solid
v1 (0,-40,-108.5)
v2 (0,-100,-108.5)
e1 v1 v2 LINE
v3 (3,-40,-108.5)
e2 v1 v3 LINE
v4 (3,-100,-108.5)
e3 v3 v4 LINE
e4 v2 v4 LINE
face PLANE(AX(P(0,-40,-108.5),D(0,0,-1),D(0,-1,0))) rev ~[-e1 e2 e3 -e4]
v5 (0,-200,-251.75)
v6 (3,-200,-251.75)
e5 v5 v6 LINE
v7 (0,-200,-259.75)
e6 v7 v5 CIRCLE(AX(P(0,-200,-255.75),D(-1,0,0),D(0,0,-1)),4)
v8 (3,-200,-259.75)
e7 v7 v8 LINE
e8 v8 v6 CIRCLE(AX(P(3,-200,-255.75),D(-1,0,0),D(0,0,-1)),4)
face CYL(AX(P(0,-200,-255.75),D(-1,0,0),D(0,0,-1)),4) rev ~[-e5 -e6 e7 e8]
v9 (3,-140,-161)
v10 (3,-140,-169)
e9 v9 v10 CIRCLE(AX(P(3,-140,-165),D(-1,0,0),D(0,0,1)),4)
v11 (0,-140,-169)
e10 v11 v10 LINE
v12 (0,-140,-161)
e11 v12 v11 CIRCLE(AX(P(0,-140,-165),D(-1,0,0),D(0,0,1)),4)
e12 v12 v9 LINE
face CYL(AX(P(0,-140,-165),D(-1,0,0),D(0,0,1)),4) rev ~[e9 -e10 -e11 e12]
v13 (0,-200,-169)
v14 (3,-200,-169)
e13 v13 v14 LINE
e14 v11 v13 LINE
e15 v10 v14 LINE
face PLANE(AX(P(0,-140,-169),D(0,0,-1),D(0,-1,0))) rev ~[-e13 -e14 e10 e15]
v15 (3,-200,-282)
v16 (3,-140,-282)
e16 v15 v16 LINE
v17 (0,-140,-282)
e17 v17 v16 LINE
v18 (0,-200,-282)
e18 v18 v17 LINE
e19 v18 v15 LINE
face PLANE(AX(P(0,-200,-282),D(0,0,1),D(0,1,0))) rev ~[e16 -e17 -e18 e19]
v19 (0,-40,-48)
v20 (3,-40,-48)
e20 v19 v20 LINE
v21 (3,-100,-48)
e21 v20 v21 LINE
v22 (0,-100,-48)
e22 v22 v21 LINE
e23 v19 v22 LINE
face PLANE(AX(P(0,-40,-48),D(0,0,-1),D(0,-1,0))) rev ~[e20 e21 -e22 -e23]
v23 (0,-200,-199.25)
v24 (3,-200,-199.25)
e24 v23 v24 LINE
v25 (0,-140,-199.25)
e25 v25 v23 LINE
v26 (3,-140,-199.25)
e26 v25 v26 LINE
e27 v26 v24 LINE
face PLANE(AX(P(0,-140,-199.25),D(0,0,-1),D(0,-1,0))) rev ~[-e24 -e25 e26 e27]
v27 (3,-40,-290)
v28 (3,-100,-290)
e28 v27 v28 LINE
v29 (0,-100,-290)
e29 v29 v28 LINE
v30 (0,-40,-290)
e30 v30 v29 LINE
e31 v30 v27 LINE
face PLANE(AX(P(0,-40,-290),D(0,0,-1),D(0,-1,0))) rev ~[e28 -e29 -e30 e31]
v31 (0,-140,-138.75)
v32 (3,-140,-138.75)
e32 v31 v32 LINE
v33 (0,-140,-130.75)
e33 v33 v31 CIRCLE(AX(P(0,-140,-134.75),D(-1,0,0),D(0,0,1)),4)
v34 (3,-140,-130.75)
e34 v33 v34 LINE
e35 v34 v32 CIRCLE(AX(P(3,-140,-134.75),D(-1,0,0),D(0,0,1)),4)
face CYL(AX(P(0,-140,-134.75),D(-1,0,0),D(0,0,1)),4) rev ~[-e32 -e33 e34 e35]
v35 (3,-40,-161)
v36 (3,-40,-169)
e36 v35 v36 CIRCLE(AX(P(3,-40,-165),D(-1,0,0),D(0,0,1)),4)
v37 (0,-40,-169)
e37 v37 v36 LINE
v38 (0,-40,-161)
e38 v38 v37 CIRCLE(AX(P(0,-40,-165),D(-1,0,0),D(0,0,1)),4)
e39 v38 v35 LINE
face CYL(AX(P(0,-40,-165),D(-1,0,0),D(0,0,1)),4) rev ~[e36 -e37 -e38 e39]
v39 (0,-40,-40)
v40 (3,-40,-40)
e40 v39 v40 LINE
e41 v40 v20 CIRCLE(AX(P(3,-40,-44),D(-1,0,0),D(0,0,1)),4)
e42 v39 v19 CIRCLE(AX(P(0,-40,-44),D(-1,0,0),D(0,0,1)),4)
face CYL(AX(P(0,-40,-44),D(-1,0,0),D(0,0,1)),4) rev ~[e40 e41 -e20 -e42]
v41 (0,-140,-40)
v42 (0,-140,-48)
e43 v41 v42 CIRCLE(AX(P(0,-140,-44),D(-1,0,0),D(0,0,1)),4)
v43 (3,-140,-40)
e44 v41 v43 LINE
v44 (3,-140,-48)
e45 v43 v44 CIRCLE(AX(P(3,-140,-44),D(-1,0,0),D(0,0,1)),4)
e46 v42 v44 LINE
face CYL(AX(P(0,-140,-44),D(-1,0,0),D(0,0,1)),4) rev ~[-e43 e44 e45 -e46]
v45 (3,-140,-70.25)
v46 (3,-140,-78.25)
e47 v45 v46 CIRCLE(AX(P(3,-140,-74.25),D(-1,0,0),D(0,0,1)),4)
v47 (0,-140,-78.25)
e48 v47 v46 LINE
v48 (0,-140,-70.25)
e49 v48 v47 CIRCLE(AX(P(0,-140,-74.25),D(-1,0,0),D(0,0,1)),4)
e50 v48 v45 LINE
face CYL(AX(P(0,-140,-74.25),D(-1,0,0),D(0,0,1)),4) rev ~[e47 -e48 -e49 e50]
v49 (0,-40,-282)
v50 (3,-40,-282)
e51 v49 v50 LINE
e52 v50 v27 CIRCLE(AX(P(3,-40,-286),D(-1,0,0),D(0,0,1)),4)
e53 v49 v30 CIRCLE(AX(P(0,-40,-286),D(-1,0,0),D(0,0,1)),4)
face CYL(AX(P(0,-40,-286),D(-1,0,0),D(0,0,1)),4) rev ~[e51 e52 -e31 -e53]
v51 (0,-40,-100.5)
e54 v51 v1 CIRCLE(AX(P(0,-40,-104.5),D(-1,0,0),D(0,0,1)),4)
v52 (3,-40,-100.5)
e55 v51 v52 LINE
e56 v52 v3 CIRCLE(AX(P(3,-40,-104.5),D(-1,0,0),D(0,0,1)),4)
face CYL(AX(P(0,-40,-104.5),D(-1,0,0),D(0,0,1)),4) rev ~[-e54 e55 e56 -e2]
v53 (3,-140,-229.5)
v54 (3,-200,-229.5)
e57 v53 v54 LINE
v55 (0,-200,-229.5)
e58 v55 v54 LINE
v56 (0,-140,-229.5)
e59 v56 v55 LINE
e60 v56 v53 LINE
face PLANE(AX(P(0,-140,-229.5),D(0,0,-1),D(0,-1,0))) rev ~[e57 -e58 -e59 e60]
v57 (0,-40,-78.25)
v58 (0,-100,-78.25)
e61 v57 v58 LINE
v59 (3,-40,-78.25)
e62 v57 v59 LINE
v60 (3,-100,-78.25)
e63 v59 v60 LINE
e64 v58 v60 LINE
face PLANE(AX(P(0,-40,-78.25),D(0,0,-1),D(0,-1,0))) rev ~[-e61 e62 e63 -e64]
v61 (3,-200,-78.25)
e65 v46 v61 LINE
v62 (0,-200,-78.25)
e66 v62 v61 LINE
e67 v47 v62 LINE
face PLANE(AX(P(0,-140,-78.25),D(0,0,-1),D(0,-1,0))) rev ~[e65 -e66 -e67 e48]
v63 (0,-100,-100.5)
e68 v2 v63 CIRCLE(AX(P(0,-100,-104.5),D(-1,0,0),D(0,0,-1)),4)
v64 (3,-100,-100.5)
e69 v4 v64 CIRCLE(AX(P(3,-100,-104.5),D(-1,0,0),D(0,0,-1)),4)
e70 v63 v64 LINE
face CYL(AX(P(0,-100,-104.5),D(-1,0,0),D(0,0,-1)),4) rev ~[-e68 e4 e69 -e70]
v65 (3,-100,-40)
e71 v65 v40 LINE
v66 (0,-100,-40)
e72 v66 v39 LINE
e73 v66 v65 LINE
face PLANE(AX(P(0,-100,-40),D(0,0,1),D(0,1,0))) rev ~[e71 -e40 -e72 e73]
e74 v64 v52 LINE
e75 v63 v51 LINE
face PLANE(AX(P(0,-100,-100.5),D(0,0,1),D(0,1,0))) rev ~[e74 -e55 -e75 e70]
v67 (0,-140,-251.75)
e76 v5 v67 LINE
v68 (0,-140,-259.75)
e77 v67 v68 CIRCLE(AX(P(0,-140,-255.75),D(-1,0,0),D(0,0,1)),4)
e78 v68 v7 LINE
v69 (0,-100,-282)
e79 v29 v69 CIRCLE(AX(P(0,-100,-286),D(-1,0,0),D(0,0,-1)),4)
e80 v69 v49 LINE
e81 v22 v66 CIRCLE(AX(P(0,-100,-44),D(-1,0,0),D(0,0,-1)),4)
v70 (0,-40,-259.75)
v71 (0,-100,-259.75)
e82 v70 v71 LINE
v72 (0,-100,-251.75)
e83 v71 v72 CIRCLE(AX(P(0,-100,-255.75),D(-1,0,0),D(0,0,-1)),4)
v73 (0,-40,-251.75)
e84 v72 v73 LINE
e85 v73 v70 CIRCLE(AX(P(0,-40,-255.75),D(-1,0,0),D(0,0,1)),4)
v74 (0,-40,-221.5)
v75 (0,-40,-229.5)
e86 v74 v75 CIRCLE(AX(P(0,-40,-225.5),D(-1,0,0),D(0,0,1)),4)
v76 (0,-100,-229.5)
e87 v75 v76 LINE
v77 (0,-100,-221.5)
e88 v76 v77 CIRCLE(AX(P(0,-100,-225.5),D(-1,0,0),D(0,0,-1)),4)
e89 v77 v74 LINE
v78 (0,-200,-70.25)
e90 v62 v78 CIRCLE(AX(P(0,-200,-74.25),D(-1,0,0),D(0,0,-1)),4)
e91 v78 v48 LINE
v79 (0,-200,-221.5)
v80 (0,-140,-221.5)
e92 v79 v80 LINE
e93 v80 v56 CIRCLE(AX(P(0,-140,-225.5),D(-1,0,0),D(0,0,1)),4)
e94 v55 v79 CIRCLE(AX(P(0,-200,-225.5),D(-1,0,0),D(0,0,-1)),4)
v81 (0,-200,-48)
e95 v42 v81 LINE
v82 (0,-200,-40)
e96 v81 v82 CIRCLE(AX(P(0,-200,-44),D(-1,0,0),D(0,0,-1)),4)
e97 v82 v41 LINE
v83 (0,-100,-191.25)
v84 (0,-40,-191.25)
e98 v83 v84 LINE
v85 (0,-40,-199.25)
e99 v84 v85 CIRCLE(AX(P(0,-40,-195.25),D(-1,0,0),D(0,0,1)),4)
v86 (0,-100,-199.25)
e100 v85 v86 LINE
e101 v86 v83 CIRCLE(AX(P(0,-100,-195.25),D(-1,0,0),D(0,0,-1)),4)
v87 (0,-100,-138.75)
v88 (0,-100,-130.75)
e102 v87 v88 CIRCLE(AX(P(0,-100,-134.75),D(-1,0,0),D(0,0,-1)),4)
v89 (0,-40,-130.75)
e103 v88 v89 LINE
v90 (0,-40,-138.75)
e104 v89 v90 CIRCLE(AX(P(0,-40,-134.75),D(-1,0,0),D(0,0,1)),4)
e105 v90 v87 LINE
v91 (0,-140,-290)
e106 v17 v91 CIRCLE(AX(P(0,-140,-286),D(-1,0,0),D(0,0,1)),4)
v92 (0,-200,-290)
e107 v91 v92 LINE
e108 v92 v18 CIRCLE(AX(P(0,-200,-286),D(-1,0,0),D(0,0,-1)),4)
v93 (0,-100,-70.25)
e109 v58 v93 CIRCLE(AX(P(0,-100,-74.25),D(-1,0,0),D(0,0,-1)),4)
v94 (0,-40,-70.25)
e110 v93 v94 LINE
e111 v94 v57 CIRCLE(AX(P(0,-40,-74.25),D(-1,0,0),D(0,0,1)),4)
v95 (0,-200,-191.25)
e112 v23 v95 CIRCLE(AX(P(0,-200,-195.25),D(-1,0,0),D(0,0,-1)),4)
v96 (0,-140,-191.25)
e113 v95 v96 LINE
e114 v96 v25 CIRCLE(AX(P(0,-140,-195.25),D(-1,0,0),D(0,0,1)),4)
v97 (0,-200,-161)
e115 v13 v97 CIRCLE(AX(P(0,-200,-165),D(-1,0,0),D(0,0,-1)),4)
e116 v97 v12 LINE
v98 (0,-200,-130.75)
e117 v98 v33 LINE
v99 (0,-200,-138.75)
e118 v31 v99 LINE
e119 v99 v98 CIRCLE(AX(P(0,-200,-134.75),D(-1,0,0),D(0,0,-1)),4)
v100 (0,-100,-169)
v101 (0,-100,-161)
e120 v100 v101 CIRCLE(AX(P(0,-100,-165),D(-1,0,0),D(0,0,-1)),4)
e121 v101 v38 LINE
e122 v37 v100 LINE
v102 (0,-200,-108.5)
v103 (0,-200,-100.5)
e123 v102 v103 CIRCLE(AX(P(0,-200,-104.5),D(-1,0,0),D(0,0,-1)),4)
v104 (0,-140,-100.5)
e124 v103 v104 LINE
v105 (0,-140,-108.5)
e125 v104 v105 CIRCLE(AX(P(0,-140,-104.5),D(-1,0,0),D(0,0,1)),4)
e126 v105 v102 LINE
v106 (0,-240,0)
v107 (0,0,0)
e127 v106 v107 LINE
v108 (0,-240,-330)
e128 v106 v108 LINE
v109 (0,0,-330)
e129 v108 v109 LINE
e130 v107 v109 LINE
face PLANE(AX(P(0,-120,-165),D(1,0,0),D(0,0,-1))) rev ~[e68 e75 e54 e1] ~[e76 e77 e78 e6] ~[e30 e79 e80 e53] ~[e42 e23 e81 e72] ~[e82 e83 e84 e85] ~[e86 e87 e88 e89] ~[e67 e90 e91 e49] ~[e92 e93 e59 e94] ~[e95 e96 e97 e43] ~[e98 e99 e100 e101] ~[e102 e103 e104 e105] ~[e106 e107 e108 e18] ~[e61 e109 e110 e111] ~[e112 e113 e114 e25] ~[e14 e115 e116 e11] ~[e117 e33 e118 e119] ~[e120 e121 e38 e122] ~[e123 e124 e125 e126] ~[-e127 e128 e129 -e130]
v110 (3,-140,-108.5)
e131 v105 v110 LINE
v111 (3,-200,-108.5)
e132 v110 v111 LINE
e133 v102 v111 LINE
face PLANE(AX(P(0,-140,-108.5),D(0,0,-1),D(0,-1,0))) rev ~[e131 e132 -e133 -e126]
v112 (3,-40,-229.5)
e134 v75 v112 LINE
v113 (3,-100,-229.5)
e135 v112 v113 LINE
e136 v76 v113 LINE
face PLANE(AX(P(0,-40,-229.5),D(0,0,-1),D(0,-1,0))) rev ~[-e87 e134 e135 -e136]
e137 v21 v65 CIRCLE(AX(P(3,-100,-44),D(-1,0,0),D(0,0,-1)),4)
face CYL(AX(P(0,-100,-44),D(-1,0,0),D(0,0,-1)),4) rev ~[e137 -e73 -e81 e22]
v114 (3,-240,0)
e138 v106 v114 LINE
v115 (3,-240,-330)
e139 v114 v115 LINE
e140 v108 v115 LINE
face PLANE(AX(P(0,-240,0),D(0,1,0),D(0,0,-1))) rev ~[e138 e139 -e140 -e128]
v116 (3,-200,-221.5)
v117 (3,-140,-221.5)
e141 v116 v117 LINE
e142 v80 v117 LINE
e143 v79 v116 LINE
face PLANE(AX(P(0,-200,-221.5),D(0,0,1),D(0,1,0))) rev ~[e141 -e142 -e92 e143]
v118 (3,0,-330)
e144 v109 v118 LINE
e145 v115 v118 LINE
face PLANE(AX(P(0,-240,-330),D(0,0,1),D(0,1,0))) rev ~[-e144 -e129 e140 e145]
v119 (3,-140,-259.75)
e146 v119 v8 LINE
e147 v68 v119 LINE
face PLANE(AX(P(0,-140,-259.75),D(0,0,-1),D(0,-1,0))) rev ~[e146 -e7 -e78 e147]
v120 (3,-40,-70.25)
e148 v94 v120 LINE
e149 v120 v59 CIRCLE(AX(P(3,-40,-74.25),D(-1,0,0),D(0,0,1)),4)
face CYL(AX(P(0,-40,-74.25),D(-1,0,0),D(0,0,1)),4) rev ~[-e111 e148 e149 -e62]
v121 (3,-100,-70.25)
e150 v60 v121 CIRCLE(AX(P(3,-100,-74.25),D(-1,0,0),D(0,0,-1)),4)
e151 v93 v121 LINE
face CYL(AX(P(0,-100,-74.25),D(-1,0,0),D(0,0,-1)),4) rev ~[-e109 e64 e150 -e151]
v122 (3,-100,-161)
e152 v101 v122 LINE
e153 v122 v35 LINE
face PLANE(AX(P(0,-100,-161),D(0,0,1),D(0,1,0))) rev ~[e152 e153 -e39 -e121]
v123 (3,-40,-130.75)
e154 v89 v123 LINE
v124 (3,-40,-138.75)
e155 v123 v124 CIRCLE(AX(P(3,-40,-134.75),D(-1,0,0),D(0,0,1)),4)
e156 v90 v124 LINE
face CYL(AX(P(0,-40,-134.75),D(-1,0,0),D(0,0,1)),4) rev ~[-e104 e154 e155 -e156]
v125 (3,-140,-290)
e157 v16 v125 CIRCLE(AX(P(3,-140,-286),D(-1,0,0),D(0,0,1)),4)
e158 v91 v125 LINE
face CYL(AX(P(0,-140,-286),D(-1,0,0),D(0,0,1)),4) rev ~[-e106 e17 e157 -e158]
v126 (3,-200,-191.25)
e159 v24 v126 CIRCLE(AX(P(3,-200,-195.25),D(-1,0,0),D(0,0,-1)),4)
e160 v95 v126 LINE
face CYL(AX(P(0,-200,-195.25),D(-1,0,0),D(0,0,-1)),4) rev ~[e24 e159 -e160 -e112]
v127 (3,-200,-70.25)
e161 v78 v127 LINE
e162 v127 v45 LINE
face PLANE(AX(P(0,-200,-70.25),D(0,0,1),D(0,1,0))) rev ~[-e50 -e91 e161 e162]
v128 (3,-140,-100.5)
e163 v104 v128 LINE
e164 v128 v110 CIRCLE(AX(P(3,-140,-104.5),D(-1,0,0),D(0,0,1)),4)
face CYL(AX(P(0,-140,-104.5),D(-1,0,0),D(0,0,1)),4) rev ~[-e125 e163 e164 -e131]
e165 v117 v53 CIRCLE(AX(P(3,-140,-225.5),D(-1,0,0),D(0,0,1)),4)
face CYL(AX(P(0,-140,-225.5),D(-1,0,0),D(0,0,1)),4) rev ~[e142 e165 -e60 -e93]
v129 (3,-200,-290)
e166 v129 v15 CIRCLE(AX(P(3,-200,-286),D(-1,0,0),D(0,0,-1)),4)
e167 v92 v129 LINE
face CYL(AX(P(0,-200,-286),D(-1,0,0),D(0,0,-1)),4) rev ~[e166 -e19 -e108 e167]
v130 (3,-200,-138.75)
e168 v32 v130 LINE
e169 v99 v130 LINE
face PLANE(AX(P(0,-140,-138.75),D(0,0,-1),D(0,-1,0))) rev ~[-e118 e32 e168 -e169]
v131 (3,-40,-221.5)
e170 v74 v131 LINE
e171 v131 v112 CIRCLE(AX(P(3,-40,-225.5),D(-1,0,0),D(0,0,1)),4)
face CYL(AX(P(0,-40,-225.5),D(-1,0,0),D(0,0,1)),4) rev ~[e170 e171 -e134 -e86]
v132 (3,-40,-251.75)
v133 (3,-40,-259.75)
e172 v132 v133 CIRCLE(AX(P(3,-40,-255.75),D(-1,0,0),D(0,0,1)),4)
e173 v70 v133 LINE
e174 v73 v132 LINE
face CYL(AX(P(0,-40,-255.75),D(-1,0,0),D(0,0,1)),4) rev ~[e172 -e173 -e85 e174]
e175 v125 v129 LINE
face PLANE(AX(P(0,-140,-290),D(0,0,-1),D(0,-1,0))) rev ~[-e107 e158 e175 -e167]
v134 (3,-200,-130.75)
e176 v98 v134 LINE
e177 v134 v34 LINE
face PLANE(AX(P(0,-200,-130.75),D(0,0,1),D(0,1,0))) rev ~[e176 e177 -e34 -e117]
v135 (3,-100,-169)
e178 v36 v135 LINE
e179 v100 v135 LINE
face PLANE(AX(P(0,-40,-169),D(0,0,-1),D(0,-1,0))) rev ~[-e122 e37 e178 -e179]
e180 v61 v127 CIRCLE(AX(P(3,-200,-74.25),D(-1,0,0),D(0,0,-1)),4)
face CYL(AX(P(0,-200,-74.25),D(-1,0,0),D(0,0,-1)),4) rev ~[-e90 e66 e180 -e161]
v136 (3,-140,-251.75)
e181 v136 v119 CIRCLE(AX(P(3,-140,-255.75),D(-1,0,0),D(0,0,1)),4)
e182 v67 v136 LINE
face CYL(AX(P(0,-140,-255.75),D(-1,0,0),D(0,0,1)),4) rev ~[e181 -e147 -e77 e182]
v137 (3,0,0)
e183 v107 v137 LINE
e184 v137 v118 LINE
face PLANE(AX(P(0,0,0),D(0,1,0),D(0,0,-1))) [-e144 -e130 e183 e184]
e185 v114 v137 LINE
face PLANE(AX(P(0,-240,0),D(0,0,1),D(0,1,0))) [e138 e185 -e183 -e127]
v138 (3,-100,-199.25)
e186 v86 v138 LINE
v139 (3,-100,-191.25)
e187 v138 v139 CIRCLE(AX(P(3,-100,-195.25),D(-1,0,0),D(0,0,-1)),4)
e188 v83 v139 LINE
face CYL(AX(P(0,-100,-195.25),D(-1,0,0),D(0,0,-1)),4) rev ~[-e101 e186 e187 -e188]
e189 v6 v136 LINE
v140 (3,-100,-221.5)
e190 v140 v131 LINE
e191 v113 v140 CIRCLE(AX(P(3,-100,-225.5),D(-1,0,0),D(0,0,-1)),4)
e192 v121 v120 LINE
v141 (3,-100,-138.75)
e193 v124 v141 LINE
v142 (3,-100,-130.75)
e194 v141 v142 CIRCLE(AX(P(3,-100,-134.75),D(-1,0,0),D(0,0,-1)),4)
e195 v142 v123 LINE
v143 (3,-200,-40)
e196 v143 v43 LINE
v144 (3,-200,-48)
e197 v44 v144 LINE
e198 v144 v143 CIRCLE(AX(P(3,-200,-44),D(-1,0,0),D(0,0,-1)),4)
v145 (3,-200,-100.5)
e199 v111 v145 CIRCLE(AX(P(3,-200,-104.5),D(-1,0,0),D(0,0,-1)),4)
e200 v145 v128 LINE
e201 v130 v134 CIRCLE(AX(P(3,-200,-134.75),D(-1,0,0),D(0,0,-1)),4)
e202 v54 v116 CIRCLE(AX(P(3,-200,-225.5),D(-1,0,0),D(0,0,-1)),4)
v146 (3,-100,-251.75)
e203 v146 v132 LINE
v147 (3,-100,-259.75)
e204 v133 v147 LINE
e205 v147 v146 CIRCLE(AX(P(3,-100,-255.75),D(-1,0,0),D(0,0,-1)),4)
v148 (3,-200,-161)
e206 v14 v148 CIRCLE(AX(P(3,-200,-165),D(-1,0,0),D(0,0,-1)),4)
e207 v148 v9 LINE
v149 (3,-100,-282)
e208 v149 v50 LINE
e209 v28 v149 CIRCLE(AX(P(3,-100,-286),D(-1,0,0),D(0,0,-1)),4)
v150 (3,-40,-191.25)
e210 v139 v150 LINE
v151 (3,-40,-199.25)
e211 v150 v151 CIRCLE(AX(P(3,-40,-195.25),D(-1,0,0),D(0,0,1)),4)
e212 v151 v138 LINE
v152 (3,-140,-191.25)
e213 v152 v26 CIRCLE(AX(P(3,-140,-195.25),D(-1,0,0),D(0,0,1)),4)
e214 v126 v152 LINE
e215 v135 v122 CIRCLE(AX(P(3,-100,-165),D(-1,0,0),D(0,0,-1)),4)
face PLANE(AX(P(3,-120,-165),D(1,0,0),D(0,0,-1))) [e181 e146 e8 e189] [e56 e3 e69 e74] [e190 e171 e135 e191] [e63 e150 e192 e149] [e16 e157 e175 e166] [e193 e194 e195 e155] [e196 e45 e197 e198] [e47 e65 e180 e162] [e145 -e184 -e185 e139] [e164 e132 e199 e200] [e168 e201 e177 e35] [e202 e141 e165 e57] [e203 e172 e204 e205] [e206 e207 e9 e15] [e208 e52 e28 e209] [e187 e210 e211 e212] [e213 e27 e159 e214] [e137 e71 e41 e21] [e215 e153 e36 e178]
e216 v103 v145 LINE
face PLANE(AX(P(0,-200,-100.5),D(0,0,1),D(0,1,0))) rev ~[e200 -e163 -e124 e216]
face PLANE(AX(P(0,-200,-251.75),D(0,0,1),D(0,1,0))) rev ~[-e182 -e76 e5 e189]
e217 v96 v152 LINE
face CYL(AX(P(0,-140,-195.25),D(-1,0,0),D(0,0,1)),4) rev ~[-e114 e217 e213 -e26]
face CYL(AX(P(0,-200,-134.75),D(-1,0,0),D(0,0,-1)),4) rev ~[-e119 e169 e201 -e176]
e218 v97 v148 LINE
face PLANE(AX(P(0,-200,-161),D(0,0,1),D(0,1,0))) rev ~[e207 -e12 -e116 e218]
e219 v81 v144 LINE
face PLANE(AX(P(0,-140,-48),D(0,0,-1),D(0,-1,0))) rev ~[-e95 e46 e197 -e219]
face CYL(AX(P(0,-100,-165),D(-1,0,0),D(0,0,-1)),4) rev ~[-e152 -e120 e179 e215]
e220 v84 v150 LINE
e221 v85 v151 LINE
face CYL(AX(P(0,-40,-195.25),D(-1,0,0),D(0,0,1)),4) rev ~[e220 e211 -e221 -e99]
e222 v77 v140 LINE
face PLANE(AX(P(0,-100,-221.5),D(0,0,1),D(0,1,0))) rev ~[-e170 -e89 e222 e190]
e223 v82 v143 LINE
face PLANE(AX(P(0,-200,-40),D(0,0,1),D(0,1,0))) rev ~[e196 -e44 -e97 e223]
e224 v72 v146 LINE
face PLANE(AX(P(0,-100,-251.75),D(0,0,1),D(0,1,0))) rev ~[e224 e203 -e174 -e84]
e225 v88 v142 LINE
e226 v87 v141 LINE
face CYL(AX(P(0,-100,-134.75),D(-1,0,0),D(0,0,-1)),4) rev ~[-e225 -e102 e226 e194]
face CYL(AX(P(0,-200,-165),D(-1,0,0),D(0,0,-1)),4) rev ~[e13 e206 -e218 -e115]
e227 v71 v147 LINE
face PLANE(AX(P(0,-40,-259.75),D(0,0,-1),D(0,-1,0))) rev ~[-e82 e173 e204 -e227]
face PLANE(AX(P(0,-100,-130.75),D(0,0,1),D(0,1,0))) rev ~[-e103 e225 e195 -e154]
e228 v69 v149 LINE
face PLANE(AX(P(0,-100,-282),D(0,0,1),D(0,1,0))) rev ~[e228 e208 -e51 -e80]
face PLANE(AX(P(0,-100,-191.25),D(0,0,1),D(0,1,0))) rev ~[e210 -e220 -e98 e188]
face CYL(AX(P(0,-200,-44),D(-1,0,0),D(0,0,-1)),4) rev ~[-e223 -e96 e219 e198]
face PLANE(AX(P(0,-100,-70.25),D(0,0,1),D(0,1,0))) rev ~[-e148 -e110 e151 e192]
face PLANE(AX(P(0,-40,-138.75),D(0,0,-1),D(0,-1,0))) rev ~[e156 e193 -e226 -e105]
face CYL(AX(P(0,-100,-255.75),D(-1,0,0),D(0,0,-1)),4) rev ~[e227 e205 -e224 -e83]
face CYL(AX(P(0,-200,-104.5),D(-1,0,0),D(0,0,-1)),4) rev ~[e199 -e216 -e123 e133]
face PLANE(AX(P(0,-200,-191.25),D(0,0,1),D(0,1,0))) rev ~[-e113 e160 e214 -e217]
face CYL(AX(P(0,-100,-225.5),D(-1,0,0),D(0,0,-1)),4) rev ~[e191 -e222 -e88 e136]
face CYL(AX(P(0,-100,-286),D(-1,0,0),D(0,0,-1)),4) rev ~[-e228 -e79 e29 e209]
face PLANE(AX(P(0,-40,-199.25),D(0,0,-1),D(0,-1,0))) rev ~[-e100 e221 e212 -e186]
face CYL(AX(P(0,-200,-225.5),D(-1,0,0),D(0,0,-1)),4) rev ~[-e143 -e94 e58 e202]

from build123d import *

# Parameters (mm, degrees)
IZIM1_W                     = 330
IZIM1_H                     = 240
Y_KSEKLIK_EKSTR_ZYON1_DEPTH = 3


with BuildPart() as part:
    # Çizim1 → Yükseklik-Ekstrüzyon1 (new body)
    with BuildSketch(Plane(origin=(0, 0, 0), x_dir=(0, 0, -1), z_dir=(1, 0, 0))):
        with Locations((165, -120)):
            Rectangle(IZIM1_W, IZIM1_H)
        with BuildLine():
            Line((48, -40), (48, -100))
            ThreePointArc((48, -100), (44, -104), (40, -100))
            Line((40, -100), (40, -40))
            ThreePointArc((40, -40), (44, -36), (48, -40))
        make_face(mode=Mode.SUBTRACT)
        with BuildLine():
            Line((78.25, -40), (78.25, -100))
            ThreePointArc((78.25, -100), (74.25, -104), (70.25, -100))
            Line((70.25, -100), (70.25, -40))
            ThreePointArc((70.25, -40), (74.25, -36), (78.25, -40))
        make_face(mode=Mode.SUBTRACT)
        with BuildLine():
            Line((108.5, -40), (108.5, -100))
            ThreePointArc((108.5, -100), (104.5, -104), (100.5, -100))
            Line((100.5, -100), (100.5, -40))
            ThreePointArc((100.5, -40), (104.5, -36), (108.5, -40))
        make_face(mode=Mode.SUBTRACT)
        with BuildLine():
            Line((138.75, -40), (138.75, -100))
            ThreePointArc((138.75, -100), (134.75, -104), (130.75, -100))
            Line((130.75, -100), (130.75, -40))
            ThreePointArc((130.75, -40), (134.75, -36), (138.75, -40))
        make_face(mode=Mode.SUBTRACT)
        with BuildLine():
            Line((169, -40), (169, -100))
            ThreePointArc((169, -100), (165, -104), (161, -100))
            Line((161, -100), (161, -40))
            ThreePointArc((161, -40), (165, -36), (169, -40))
        make_face(mode=Mode.SUBTRACT)
        with BuildLine():
            Line((199.25, -40), (199.25, -100))
            ThreePointArc((199.25, -100), (195.25, -104), (191.25, -100))
            Line((191.25, -100), (191.25, -40))
            ThreePointArc((191.25, -40), (195.25, -36), (199.25, -40))
        make_face(mode=Mode.SUBTRACT)
        with BuildLine():
            Line((229.5, -40), (229.5, -100))
            ThreePointArc((229.5, -100), (225.5, -104), (221.5, -100))
            Line((221.5, -100), (221.5, -40))
            ThreePointArc((221.5, -40), (225.5, -36), (229.5, -40))
        make_face(mode=Mode.SUBTRACT)
        with BuildLine():
            Line((259.75, -40), (259.75, -100))
            ThreePointArc((259.75, -100), (255.75, -104), (251.75, -100))
            Line((251.75, -100), (251.75, -40))
            ThreePointArc((251.75, -40), (255.75, -36), (259.75, -40))
        make_face(mode=Mode.SUBTRACT)
        with BuildLine():
            Line((290, -40), (290, -100))
            ThreePointArc((290, -100), (286, -104), (282, -100))
            Line((282, -100), (282, -40))
            ThreePointArc((282, -40), (286, -36), (290, -40))
        make_face(mode=Mode.SUBTRACT)
        with BuildLine():
            Line((78.25, -140), (78.25, -200))
            ThreePointArc((78.25, -200), (74.25, -204), (70.25, -200))
            Line((70.25, -200), (70.25, -140))
            ThreePointArc((70.25, -140), (74.25, -136), (78.25, -140))
        make_face(mode=Mode.SUBTRACT)
        with BuildLine():
            Line((108.5, -140), (108.5, -200))
            ThreePointArc((108.5, -200), (104.5, -204), (100.5, -200))
            Line((100.5, -200), (100.5, -140))
            ThreePointArc((100.5, -140), (104.5, -136), (108.5, -140))
        make_face(mode=Mode.SUBTRACT)
        with BuildLine():
            Line((138.75, -140), (138.75, -200))
            ThreePointArc((138.75, -200), (134.75, -204), (130.75, -200))
            Line((130.75, -200), (130.75, -140))
            ThreePointArc((130.75, -140), (134.75, -136), (138.75, -140))
        make_face(mode=Mode.SUBTRACT)
        with BuildLine():
            Line((169, -140), (169, -200))
            ThreePointArc((169, -200), (165, -204), (161, -200))
            Line((161, -200), (161, -140))
            ThreePointArc((161, -140), (165, -136), (169, -140))
        make_face(mode=Mode.SUBTRACT)
        with BuildLine():
            Line((199.25, -140), (199.25, -200))
            ThreePointArc((199.25, -200), (195.25, -204), (191.25, -200))
            Line((191.25, -200), (191.25, -140))
            ThreePointArc((191.25, -140), (195.25, -136), (199.25, -140))
        make_face(mode=Mode.SUBTRACT)
        with BuildLine():
            Line((229.5, -140), (229.5, -200))
            ThreePointArc((229.5, -200), (225.5, -204), (221.5, -200))
            Line((221.5, -200), (221.5, -140))
            ThreePointArc((221.5, -140), (225.5, -136), (229.5, -140))
        make_face(mode=Mode.SUBTRACT)
        with BuildLine():
            Line((259.75, -140), (259.75, -200))
            ThreePointArc((259.75, -200), (255.75, -204), (251.75, -200))
            Line((251.75, -200), (251.75, -140))
            ThreePointArc((251.75, -140), (255.75, -136), (259.75, -140))
        make_face(mode=Mode.SUBTRACT)
        with BuildLine():
            Line((290, -140), (290, -200))
            ThreePointArc((290, -200), (286, -204), (282, -200))
            Line((282, -200), (282, -140))
            ThreePointArc((282, -140), (286, -136), (290, -140))
        make_face(mode=Mode.SUBTRACT)
        with BuildLine():
            Line((48, -140), (48, -200))
            ThreePointArc((48, -200), (44, -204), (40, -200))
            Line((40, -200), (40, -140))
            ThreePointArc((40, -140), (44, -136), (48, -140))
        make_face(mode=Mode.SUBTRACT)
    extrude(amount=Y_KSEKLIK_EKSTR_ZYON1_DEPTH)


solid = part.part
